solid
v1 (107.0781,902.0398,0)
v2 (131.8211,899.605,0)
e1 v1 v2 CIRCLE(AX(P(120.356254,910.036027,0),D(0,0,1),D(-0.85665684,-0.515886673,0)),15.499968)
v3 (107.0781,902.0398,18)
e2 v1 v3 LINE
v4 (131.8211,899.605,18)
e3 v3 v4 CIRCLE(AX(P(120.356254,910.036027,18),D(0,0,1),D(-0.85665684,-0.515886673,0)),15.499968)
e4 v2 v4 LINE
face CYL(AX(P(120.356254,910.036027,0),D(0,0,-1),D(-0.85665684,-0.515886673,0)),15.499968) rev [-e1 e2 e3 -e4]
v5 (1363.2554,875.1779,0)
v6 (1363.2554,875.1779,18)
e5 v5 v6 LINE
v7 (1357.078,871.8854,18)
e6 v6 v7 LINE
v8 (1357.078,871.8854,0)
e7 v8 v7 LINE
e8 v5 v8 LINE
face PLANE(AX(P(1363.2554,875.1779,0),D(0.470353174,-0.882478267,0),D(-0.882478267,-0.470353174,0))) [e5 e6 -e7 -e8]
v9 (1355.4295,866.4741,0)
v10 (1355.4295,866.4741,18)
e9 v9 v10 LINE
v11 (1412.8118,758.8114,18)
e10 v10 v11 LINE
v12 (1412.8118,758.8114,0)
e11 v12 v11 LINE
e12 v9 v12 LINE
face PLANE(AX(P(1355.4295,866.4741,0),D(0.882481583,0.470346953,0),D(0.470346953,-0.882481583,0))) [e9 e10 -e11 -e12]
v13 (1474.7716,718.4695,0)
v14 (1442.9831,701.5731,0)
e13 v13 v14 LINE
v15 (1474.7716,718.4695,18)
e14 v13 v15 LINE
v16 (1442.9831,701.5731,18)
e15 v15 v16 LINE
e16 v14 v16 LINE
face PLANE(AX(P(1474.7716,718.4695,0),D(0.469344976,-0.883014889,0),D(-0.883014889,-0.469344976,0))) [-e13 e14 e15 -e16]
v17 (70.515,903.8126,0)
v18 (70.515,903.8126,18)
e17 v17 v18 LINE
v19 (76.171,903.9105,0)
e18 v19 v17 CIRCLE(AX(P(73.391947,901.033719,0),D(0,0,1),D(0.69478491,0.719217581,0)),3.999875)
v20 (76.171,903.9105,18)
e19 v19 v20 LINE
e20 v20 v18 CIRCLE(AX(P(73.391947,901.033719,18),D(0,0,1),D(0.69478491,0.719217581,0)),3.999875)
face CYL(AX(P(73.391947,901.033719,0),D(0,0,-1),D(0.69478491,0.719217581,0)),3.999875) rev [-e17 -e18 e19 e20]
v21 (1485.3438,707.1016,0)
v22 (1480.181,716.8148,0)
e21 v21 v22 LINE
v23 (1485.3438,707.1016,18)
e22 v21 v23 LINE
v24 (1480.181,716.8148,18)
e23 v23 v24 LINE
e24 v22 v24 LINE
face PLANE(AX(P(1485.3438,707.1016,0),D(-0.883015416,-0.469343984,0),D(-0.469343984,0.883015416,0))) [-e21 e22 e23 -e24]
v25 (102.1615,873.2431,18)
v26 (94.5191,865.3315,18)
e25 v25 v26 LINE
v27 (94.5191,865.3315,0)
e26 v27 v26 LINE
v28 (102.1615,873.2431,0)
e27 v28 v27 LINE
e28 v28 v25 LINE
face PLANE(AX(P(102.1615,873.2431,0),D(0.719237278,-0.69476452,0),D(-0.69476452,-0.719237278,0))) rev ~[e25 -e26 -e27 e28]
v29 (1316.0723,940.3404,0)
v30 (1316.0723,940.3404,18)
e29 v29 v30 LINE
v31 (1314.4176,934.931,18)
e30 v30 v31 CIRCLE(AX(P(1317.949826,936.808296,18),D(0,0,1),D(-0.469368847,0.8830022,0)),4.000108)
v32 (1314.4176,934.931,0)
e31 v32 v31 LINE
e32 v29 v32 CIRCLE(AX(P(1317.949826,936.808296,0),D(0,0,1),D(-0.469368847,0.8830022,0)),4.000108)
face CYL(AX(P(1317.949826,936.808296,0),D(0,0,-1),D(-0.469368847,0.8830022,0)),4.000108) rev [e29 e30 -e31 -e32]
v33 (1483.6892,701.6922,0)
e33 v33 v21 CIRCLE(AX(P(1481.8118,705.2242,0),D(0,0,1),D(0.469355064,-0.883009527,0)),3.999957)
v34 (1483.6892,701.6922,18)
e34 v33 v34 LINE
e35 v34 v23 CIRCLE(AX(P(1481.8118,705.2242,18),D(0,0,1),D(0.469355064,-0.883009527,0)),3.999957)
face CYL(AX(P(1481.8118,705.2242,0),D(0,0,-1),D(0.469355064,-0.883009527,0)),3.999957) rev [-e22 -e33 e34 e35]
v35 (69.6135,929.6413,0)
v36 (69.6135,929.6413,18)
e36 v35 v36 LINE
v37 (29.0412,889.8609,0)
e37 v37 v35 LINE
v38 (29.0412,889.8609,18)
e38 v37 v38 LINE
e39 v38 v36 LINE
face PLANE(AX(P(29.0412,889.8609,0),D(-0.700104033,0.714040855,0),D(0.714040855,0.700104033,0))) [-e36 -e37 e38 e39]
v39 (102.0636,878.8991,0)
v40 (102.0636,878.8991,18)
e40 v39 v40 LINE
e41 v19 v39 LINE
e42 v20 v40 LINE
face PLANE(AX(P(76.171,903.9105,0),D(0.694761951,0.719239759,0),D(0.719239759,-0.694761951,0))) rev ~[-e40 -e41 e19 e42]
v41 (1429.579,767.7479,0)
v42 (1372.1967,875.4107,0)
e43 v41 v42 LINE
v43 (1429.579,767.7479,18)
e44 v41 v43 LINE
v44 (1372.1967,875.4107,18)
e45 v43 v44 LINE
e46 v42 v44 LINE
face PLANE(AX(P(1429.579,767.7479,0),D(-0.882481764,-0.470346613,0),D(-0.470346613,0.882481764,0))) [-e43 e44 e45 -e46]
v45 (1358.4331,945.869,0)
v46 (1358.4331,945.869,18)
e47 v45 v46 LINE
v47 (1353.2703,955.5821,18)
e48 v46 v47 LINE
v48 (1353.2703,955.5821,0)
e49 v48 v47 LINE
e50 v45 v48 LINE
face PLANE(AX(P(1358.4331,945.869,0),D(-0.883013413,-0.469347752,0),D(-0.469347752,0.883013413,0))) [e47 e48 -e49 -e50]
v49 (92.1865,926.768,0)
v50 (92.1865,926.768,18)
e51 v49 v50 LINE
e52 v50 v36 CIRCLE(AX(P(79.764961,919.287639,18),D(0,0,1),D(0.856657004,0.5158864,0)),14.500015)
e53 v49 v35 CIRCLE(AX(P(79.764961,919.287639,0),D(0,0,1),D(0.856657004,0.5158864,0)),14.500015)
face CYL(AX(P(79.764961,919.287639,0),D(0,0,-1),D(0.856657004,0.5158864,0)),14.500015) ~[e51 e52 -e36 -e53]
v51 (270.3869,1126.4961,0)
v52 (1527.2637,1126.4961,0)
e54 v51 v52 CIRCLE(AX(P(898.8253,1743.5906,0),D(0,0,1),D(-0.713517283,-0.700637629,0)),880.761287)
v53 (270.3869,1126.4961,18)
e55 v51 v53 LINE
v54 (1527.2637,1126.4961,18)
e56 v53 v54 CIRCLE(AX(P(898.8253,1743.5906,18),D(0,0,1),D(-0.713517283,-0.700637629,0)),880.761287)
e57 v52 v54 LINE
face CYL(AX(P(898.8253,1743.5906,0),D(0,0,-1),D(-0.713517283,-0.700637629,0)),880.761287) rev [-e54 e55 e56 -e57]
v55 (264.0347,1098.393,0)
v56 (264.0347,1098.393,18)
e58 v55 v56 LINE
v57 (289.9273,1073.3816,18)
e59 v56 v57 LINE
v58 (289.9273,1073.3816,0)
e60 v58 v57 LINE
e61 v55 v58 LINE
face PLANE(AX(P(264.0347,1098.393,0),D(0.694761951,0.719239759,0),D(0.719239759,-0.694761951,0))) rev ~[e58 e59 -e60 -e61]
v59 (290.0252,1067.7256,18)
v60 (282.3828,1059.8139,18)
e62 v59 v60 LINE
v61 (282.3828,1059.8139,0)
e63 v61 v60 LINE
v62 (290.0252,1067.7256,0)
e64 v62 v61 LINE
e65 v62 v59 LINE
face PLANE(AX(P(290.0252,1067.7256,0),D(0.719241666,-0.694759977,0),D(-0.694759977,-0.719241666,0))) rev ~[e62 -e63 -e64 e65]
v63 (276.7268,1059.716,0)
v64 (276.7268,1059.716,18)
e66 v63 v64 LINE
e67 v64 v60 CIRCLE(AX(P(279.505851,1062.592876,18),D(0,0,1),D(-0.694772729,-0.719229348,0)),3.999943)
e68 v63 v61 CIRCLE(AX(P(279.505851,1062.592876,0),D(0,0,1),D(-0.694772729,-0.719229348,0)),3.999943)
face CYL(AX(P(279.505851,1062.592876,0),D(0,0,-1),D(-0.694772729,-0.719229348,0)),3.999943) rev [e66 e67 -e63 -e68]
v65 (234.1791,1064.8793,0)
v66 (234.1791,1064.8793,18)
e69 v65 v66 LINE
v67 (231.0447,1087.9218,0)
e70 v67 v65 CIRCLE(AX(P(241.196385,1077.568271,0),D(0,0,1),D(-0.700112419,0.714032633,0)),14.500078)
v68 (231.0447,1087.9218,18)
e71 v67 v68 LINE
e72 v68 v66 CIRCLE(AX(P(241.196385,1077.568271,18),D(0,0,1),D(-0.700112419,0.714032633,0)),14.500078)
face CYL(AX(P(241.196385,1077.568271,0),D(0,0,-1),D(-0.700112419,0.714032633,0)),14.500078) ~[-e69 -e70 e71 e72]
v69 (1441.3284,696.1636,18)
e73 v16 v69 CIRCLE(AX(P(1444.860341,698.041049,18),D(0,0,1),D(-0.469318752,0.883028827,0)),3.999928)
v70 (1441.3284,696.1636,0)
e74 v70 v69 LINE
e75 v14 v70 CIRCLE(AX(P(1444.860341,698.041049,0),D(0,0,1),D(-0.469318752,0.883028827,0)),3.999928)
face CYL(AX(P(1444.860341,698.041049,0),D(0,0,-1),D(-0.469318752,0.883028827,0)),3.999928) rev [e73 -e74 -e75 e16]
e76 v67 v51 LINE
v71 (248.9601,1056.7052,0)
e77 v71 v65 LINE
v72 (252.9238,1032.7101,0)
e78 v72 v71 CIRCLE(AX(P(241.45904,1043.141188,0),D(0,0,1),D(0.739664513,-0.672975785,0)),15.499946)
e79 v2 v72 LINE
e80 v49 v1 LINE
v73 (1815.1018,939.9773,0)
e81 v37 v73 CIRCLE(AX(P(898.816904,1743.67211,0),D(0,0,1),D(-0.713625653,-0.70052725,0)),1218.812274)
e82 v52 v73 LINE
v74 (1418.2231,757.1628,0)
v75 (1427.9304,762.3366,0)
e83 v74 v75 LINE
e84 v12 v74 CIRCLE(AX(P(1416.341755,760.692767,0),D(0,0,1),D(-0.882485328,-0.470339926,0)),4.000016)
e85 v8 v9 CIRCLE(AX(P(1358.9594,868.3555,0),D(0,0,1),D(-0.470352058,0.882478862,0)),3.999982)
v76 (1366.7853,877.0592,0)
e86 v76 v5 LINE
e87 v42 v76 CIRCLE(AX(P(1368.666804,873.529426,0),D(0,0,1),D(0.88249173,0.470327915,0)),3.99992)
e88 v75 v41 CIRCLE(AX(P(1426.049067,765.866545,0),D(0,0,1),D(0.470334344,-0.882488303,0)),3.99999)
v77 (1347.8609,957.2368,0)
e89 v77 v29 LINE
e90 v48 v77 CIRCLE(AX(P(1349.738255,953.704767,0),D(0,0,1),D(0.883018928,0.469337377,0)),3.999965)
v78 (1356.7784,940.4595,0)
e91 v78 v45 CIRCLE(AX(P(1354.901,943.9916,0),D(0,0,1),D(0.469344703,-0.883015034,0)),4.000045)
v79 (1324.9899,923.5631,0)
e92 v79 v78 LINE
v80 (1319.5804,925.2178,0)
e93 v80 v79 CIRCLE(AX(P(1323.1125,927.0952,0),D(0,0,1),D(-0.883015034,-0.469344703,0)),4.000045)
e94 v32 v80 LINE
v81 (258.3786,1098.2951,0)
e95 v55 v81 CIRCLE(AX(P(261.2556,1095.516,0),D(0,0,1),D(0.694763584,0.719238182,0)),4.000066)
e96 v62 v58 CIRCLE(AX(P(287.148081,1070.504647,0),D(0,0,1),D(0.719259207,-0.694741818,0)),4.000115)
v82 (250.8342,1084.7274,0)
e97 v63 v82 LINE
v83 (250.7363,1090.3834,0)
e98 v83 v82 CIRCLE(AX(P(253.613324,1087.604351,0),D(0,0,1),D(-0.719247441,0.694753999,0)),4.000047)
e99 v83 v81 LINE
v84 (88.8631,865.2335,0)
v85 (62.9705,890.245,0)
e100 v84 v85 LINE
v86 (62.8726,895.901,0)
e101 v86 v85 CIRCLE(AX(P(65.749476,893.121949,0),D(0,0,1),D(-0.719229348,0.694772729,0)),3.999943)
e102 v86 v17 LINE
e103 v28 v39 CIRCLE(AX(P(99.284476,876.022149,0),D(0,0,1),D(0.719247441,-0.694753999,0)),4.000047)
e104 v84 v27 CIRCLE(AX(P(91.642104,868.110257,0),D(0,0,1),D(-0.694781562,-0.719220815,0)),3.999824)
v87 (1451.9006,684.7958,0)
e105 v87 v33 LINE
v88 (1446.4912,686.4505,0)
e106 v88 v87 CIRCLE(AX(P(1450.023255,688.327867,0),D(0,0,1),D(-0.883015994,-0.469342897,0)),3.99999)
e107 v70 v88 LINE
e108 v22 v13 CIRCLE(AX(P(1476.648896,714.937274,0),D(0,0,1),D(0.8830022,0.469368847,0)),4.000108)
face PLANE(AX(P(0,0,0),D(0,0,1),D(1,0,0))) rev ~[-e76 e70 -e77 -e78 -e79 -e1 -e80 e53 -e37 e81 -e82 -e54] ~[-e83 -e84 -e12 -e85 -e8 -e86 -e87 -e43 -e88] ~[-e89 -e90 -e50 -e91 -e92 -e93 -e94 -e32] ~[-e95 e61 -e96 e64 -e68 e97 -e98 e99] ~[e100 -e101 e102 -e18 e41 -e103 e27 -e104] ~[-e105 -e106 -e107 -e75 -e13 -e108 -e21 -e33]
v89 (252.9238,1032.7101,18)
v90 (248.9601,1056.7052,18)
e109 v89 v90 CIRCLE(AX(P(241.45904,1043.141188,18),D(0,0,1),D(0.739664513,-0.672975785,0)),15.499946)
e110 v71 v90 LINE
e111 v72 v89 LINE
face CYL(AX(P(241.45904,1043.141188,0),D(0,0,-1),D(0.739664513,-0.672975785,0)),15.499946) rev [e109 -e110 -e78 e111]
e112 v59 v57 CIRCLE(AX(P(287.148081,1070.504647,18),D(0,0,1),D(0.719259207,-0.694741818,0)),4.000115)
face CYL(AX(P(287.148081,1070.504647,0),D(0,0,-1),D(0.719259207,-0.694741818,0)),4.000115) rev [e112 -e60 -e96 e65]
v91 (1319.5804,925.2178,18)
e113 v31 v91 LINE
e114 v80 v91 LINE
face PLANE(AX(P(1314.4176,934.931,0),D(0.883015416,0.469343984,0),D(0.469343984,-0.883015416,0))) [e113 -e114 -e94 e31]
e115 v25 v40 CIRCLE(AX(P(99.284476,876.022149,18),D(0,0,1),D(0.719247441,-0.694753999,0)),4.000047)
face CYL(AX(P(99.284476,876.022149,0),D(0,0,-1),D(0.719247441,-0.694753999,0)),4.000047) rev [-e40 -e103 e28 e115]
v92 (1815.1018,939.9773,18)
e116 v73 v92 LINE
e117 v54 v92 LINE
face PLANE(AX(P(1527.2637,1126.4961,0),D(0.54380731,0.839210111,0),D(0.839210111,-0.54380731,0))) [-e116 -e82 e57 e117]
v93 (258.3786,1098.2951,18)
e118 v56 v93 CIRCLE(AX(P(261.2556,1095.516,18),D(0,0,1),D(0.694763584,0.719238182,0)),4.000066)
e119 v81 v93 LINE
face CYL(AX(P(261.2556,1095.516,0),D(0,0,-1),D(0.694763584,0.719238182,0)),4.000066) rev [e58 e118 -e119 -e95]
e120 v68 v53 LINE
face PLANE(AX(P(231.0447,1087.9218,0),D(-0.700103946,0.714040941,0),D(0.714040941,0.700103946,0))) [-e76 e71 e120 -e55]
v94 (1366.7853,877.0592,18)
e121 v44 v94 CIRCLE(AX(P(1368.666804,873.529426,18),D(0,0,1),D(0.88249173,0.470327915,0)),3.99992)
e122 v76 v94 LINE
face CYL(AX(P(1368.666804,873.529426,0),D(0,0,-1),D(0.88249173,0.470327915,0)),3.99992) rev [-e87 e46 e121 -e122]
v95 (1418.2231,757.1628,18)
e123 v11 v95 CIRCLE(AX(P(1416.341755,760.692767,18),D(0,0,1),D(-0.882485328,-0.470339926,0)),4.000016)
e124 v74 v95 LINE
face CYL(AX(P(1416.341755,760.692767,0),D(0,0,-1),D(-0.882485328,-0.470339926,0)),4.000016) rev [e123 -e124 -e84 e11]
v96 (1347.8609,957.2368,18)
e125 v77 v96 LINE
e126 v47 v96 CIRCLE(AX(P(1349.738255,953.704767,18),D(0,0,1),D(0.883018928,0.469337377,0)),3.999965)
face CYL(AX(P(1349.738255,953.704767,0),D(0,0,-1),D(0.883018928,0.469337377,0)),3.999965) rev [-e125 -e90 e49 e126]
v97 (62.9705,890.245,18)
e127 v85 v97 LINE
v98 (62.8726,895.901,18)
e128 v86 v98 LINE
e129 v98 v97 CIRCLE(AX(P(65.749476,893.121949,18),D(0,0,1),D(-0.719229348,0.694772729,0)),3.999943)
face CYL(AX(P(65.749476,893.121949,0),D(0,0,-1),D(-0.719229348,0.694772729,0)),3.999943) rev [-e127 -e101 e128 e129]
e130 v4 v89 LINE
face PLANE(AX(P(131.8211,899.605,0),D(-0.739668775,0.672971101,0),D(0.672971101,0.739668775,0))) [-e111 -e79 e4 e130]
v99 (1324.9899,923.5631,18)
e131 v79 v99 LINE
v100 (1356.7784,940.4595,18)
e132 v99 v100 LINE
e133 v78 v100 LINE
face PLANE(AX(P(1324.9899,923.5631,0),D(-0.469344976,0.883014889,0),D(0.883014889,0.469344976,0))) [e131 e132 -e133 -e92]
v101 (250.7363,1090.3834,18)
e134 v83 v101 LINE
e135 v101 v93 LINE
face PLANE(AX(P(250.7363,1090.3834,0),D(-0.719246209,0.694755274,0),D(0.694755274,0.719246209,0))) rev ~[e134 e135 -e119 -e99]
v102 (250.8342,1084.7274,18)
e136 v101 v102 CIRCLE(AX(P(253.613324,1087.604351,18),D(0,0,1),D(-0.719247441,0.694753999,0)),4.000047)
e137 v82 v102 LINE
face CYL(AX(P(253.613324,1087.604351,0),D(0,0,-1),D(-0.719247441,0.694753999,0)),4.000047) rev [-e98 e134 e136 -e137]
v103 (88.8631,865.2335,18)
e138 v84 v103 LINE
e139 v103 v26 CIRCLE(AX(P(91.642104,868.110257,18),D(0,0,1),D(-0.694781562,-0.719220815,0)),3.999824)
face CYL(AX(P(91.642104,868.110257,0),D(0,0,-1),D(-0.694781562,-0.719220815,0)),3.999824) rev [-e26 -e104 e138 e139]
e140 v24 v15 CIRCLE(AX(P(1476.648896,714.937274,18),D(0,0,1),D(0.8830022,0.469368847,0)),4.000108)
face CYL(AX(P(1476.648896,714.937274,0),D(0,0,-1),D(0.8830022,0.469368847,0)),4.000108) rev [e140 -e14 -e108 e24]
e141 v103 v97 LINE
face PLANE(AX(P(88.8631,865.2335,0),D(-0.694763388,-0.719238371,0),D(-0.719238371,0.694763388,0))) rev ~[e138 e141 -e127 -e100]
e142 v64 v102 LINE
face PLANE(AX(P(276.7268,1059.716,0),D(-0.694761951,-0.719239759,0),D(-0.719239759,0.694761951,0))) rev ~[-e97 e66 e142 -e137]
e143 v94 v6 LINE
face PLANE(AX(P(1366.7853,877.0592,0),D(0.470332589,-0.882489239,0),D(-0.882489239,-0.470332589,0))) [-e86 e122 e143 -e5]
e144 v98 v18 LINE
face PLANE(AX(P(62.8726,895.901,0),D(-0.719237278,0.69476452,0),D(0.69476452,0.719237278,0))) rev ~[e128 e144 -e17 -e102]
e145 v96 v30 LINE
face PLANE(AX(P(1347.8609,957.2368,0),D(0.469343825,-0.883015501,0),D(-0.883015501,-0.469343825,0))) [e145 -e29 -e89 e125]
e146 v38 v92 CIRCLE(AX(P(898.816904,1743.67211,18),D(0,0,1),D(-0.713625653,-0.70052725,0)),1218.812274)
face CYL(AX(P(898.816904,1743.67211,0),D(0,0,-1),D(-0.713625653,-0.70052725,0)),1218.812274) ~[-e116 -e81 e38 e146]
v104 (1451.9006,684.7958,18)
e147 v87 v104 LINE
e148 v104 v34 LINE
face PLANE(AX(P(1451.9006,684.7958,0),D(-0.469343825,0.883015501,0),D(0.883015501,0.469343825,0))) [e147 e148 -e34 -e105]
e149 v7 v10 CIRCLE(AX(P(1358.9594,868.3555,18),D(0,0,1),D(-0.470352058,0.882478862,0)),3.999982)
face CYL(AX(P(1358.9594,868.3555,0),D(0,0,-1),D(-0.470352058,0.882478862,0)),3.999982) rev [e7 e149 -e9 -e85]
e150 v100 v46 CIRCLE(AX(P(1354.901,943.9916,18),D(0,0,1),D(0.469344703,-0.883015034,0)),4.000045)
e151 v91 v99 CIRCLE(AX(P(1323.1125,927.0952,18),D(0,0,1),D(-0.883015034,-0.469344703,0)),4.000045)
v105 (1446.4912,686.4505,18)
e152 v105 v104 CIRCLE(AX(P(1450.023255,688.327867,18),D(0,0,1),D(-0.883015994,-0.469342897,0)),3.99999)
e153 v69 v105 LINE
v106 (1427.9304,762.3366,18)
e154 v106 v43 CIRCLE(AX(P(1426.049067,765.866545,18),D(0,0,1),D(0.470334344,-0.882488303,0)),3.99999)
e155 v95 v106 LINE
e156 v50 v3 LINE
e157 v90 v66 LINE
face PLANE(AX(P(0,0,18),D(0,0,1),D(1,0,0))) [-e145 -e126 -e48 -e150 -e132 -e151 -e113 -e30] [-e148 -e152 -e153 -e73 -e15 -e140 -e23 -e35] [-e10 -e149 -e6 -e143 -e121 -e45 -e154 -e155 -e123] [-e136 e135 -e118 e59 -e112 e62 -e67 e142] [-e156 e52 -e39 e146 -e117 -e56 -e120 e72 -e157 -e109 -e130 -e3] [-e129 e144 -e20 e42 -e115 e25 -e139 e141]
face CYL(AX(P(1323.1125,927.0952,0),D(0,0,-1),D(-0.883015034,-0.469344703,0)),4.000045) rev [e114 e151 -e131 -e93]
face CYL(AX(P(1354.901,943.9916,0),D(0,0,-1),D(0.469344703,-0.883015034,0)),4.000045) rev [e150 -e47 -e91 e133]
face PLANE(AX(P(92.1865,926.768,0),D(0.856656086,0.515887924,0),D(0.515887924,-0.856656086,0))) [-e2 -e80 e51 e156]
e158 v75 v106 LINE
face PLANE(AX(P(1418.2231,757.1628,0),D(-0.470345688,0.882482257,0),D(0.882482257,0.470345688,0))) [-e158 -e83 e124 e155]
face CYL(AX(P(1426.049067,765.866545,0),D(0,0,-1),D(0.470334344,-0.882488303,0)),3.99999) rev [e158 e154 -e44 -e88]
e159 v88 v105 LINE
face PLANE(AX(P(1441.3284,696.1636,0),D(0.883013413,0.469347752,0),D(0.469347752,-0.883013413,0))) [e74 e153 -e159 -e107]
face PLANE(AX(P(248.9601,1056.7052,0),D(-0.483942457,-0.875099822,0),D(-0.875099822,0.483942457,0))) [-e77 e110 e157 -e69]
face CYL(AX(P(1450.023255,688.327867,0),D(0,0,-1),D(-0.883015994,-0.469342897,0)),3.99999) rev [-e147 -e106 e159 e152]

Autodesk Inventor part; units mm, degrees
ref_plane "YZ Plane" through (0, 0, 0) normal (1, 0, 0) x (0, 1, 0)
ref_plane "XZ Plane" through (0, 0, 0) normal (0, 1, 0) x (-1, 0, 0)
ref_plane "XY Plane" through (0, 0, 0) normal (0, 0, 1) x (1, 0, 0)
sketch "CONTOURS" plane through (0, 0, 0) normal (0, 0, 1) x (1, 0, 0)
  line L0 (29.0412, 889.8609) -> (69.6135, 929.6413)
  arc A0 (92.1865, 926.768) -> (69.6135, 929.6413) centre (79.765, 919.2877) ccw
  line L1 (92.1865, 926.768) -> (107.0781, 902.0398)
  arc A1 (107.0781, 902.0398) -> (131.8211, 899.605) centre (120.3563, 910.0361) ccw
  line L2 (131.8211, 899.605) -> (252.9238, 1032.7101)
  arc A2 (252.9238, 1032.7101) -> (248.9601, 1056.7052) centre (241.459, 1043.1412) ccw
  line L3 (248.9601, 1056.7052) -> (234.1791, 1064.8793)
  arc A3 (231.0447, 1087.9218) -> (234.1791, 1064.8793) centre (241.1963, 1077.5683) ccw
  line L4 (231.0447, 1087.9218) -> (270.3869, 1126.4961)
  arc A4 (270.3869, 1126.4961) -> (1527.2637, 1126.4961) centre (898.8253, 1743.5906) ccw
  line L5 (1527.2637, 1126.4961) -> (1815.1018, 939.9773)
  arc A5 (29.0412, 889.8609) -> (1815.1018, 939.9773) centre (898.8169, 1743.6721) ccw
sketch "HOLES" plane through (0, 0, 0) normal (0, 0, 1) x (1, 0, 0)
  line L0 (290.0252, 1067.7256) -> (282.3828, 1059.8139)
  arc A0 (276.7268, 1059.716) -> (282.3828, 1059.8139) centre (279.5059, 1062.593) ccw
  line L1 (276.7268, 1059.716) -> (250.8342, 1084.7274)
  arc A1 (250.7363, 1090.3834) -> (250.8342, 1084.7274) centre (253.6132, 1087.6044) ccw
  line L2 (250.7363, 1090.3834) -> (258.3786, 1098.2951)
  arc A2 (264.0347, 1098.393) -> (258.3786, 1098.2951) centre (261.2556, 1095.516) ccw
  line L3 (264.0347, 1098.393) -> (289.9273, 1073.3816)
  arc A3 (290.0252, 1067.7256) -> (289.9273, 1073.3816) centre (287.1482, 1070.5046) ccw
  line L4 (102.1615, 873.2431) -> (94.5191, 865.3315)
  arc A4 (88.8631, 865.2335) -> (94.5191, 865.3315) centre (91.6422, 868.1105) ccw
  line L5 (88.8631, 865.2335) -> (62.9705, 890.245)
  arc A5 (62.8726, 895.901) -> (62.9705, 890.245) centre (65.7496, 893.1219) ccw
  line L6 (62.8726, 895.901) -> (70.515, 903.8126)
  arc A6 (76.171, 903.9105) -> (70.515, 903.8126) centre (73.3919, 901.0336) ccw
  arc A7 (102.1615, 873.2431) -> (102.0636, 878.8991) centre (99.2846, 876.0221) ccw
  line L7 (1358.4331, 945.869) -> (1353.2703, 955.5821)
  arc A8 (1353.2703, 955.5821) -> (1347.8609, 957.2368) centre (1349.7382, 953.7047) ccw
  line L8 (1347.8609, 957.2368) -> (1316.0723, 940.3404)
  arc A9 (1316.0723, 940.3404) -> (1314.4176, 934.931) centre (1317.9497, 936.8084) ccw
  line L9 (1314.4176, 934.931) -> (1319.5804, 925.2178)
  arc A10 (1319.5804, 925.2178) -> (1324.9899, 923.5631) centre (1323.1125, 927.0952) ccw
  line L10 (1324.9899, 923.5631) -> (1356.7784, 940.4595)
  arc A11 (1356.7784, 940.4595) -> (1358.4331, 945.869) centre (1354.901, 943.9916) ccw
  line L11 (1441.3284, 696.1636) -> (1446.4912, 686.4505)
  arc A12 (1446.4912, 686.4505) -> (1451.9006, 684.7958) centre (1450.0232, 688.3278) ccw
  line L12 (1451.9006, 684.7958) -> (1483.6892, 701.6922)
  arc A13 (1483.6892, 701.6922) -> (1485.3438, 707.1016) centre (1481.8118, 705.2242) ccw
  line L13 (1485.3438, 707.1016) -> (1480.181, 716.8148)
  arc A14 (1480.181, 716.8148) -> (1474.7716, 718.4695) centre (1476.649, 714.9374) ccw
  line L14 (1474.7716, 718.4695) -> (1442.9831, 701.5731)
  arc A15 (1442.9831, 701.5731) -> (1441.3284, 696.1636) centre (1444.8604, 698.041) ccw
  line L15 (1363.2554, 875.1779) -> (1357.078, 871.8854)
  arc A16 (1357.078, 871.8854) -> (1355.4295, 866.4741) centre (1358.9594, 868.3555) ccw
  line L16 (1355.4295, 866.4741) -> (1412.8118, 758.8114)
  arc A17 (1412.8118, 758.8114) -> (1418.2231, 757.1628) centre (1416.3417, 760.6927) ccw
  line L17 (1418.2231, 757.1628) -> (1427.9304, 762.3366)
  arc A18 (1427.9304, 762.3366) -> (1429.579, 767.7479) centre (1426.049, 765.8666) ccw
  line L18 (1429.579, 767.7479) -> (1372.1967, 875.4107)
  arc A19 (1372.1967, 875.4107) -> (1366.7853, 877.0592) centre (1368.6667, 873.5293) ccw
  line L19 (1366.7853, 877.0592) -> (1363.2554, 875.1779)
  line L20 (76.171, 903.9105) -> (102.0636, 878.8991)
sketch "LETTERS" plane through (0, 0, 0) normal (0, 0, 1) x (1, 0, 0)
  line L0 (246.1168, 901.1678) -> (246.0351, 901.3924)
  line L1 (246.0351, 901.3924) -> (245.9598, 901.6191)
  line L2 (245.9598, 901.6191) -> (245.8908, 901.8478)
  line L3 (245.8908, 901.8478) -> (245.8282, 902.0782)
  line L4 (245.8282, 902.0782) -> (245.7719, 902.3102)
  line L5 (245.7719, 902.3102) -> (245.722, 902.5436)
  line L6 (245.722, 902.5436) -> (245.6784, 902.7782)
  line L7 (245.6784, 902.7782) -> (245.6412, 903.0139)
  line L8 (245.6412, 903.0139) -> (245.6104, 903.2504)
  line L9 (245.6104, 903.2504) -> (245.586, 903.4876)
  line L10 (245.586, 903.4876) -> (245.5679, 903.7253)
  line L11 (245.5679, 903.7253) -> (245.5562, 903.9634)
  line L12 (245.5562, 903.9634) -> (245.551, 904.2015)
  line L13 (245.551, 904.2015) -> (245.5521, 904.4397)
  line L14 (245.5521, 904.4397) -> (245.5596, 904.6777)
  line L15 (245.5596, 904.6777) -> (245.5736, 904.9152)
  line L16 (245.5736, 904.9152) -> (245.594, 905.1522)
  line L17 (245.594, 905.1522) -> (245.6208, 905.3885)
  line L18 (245.6208, 905.3885) -> (245.654, 905.6238)
  line L19 (245.654, 905.6238) -> (245.6937, 905.8581)
  line L20 (245.6937, 905.8581) -> (245.7398, 906.0911)
  line L21 (245.7398, 906.0911) -> (245.7923, 906.3226)
  line L22 (245.7923, 906.3226) -> (245.8513, 906.5525)
  line L23 (245.8513, 906.5525) -> (245.9168, 906.7806)
  line L24 (245.9168, 906.7806) -> (245.9887, 907.0067)
  line L25 (245.9887, 907.0067) -> (246.0671, 907.2306)
  line L26 (246.0671, 907.2306) -> (246.1519, 907.4522)
  line L27 (246.1519, 907.4522) -> (246.2433, 907.6712)
  line L28 (246.2433, 907.6712) -> (246.3411, 907.8876)
  line L29 (246.3411, 907.8876) -> (246.4454, 908.1011)
  line L30 (246.4454, 908.1011) -> (246.5562, 908.3115)
  line L31 (246.5562, 908.3115) -> (246.6735, 908.5187)
  line L32 (246.6735, 908.5187) -> (246.7973, 908.7225)
  line L33 (246.7973, 908.7225) -> (246.9274, 908.9228)
  line L34 (246.9274, 908.9228) -> (247.0637, 909.1194)
  line L35 (247.0637, 909.1194) -> (247.2058, 909.3123)
  line L36 (247.2058, 909.3123) -> (247.3538, 909.5013)
  line L37 (247.3538, 909.5013) -> (247.5073, 909.6863)
  line L38 (247.5073, 909.6863) -> (247.6661, 909.8672)
  line L39 (247.6661, 909.8672) -> (247.8302, 910.0439)
  line L40 (247.8302, 910.0439) -> (247.9992, 910.2163)
  line L41 (247.9992, 910.2163) -> (248.1731, 910.3842)
  line L42 (248.1731, 910.3842) -> (248.3515, 910.5476)
  line L43 (248.3515, 910.5476) -> (248.5344, 910.7063)
  line L44 (248.5344, 910.7063) -> (248.7216, 910.8603)
  line L45 (248.7216, 910.8603) -> (248.9128, 911.0093)
  line L46 (248.9128, 911.0093) -> (249.1078, 911.1534)
  line L47 (249.1078, 911.1534) -> (249.3066, 911.2923)
  line L48 (249.3066, 911.2923) -> (249.5088, 911.426)
  line L49 (249.5088, 911.426) -> (249.7143, 911.5543)
  line L50 (249.7143, 911.5543) -> (249.9229, 911.6772)
  line L51 (249.9229, 911.6772) -> (250.1344, 911.7944)
  line L52 (250.1344, 911.7944) -> (250.3487, 911.906)
  line L53 (250.3487, 911.906) -> (250.5655, 912.0118)
  line L54 (250.5655, 912.0118) -> (250.7846, 912.1117)
  line L55 (250.7846, 912.1117) -> (251.0059, 912.2055)
  line L56 (251.0059, 912.2055) -> (251.2292, 912.2932)
  line L57 (251.2292, 912.2932) -> (251.4543, 912.3746)
  line L58 (251.4543, 912.3746) -> (251.6809, 912.4497)
  line L59 (251.6809, 912.4497) -> (251.909, 912.5182)
  line L60 (251.909, 912.5182) -> (252.1383, 912.5802)
  line L61 (252.1383, 912.5802) -> (252.3686, 912.6354)
  line L62 (252.3686, 912.6354) -> (252.5997, 912.6838)
  line L63 (252.5997, 912.6838) -> (252.8315, 912.7253)
  line L64 (252.8315, 912.7253) -> (253.0638, 912.7597)
  line L65 (253.0638, 912.7597) -> (253.2964, 912.7872)
  line L66 (253.2964, 912.7872) -> (253.5293, 912.8077)
  line L67 (253.5293, 912.8077) -> (253.7624, 912.8215)
  line L68 (253.7624, 912.8215) -> (253.9954, 912.8287)
  line L69 (253.9954, 912.8287) -> (254.2285, 912.8292)
  line L70 (254.2285, 912.8292) -> (254.4614, 912.8232)
  line L71 (254.4614, 912.8232) -> (254.694, 912.8108)
  line L72 (254.694, 912.8108) -> (254.9262, 912.7921)
  line L73 (254.9262, 912.7921) -> (255.158, 912.7672)
  line L74 (255.158, 912.7672) -> (255.3893, 912.7361)
  line L75 (255.3893, 912.7361) -> (255.6198, 912.699)
  line L76 (255.6198, 912.699) -> (255.8496, 912.656)
  line L77 (255.8496, 912.656) -> (256.0785, 912.6071)
  line L78 (256.0785, 912.6071) -> (256.3065, 912.5524)
  line L79 (256.3065, 912.5524) -> (256.5333, 912.4921)
  line L80 (256.5333, 912.4921) -> (256.759, 912.4263)
  line L81 (256.759, 912.4263) -> (256.9834, 912.3549)
  line L82 (256.9834, 912.3549) -> (257.2064, 912.2781)
  line L83 (257.2064, 912.2781) -> (257.4279, 912.1961)
  line L84 (257.4279, 912.1961) -> (257.6478, 912.1088)
  line L85 (257.6478, 912.1088) -> (257.8661, 912.0165)
  line L86 (257.8661, 912.0165) -> (258.0825, 911.9191)
  line L87 (258.0825, 911.9191) -> (258.297, 911.8168)
  line L88 (258.297, 911.8168) -> (258.5095, 911.7097)
  line L89 (258.5095, 911.7097) -> (258.7199, 911.5978)
  line L90 (258.7199, 911.5978) -> (258.9281, 911.4814)
  line L91 (258.9281, 911.4814) -> (259.134, 911.3603)
  line L92 (259.134, 911.3603) -> (259.3375, 911.2348)
  line L93 (259.3375, 911.2348) -> (259.5384, 911.105)
  line L94 (259.5384, 911.105) -> (259.7367, 910.9709)
  line L95 (259.7367, 910.9709) -> (259.9323, 910.8326)
  line L96 (259.9323, 910.8326) -> (260.1251, 910.6902)
  line L97 (260.1251, 910.6902) -> (260.315, 910.5438)
  line L98 (260.315, 910.5438) -> (260.5019, 910.3936)
  line L99 (260.5019, 910.3936) -> (260.6858, 910.2394)
  line L100 (260.6858, 910.2394) -> (260.8666, 910.0816)
  line L101 (260.8666, 910.0816) -> (261.0443, 909.92)
  line L102 (261.0443, 909.92) -> (261.2187, 909.7549)
  line L103 (261.2187, 909.7549) -> (261.3897, 909.5863)
  line L104 (261.3897, 909.5863) -> (261.5574, 909.4142)
  line L105 (261.5574, 909.4142) -> (261.7217, 909.2389)
  line L106 (261.7217, 909.2389) -> (261.8825, 909.0602)
  line L107 (261.8825, 909.0602) -> (262.0396, 908.8784)
  line L108 (262.0396, 908.8784) -> (262.1932, 908.6935)
  line L109 (262.1932, 908.6935) -> (262.343, 908.5056)
  line L110 (262.343, 908.5056) -> (262.489, 908.3148)
  line L111 (262.489, 908.3148) -> (262.6311, 908.1211)
  line L112 (262.6311, 908.1211) -> (262.7694, 907.9247)
  line L113 (262.7694, 907.9247) -> (262.9036, 907.7256)
  line L114 (262.9036, 907.7256) -> (263.0338, 907.5239)
  line L115 (263.0338, 907.5239) -> (263.1599, 907.3197)
  line L116 (263.1599, 907.3197) -> (263.2817, 907.1131)
  line L117 (263.2817, 907.1131) -> (263.3993, 906.9041)
  line L118 (263.3993, 906.9041) -> (263.5126, 906.6929)
  line L119 (263.5126, 906.6929) -> (263.6214, 906.4795)
  line L120 (263.6214, 906.4795) -> (263.7258, 906.264)
  line L121 (263.7258, 906.264) -> (263.8257, 906.0465)
  line L122 (263.8257, 906.0465) -> (263.9209, 905.827)
  line L123 (263.9209, 905.827) -> (264.0114, 905.6057)
  line L124 (264.0114, 905.6057) -> (264.0973, 905.3826)
  line L125 (264.0973, 905.3826) -> (264.1782, 905.1579)
  line L126 (264.1782, 905.1579) -> (264.2544, 904.9316)
  line L127 (264.2544, 904.9316) -> (264.3255, 904.7037)
  line L128 (264.3255, 904.7037) -> (264.3917, 904.4744)
  line L129 (264.3917, 904.4744) -> (264.4527, 904.2438)
  line L130 (264.4527, 904.2438) -> (264.5087, 904.012)
  line L131 (264.5087, 904.012) -> (264.5596, 903.7792)
  line L132 (264.5596, 903.7792) -> (264.6053, 903.5455)
  line L133 (264.6053, 903.5455) -> (264.6458, 903.3109)
  line L134 (264.6458, 903.3109) -> (264.6811, 903.0757)
  line L135 (264.6811, 903.0757) -> (264.7111, 902.84)
  line L136 (264.7111, 902.84) -> (264.7358, 902.6039)
  line L137 (264.7358, 902.6039) -> (264.7552, 902.3675)
  line L138 (264.7552, 902.3675) -> (264.7692, 902.1309)
  line L139 (264.7692, 902.1309) -> (264.7779, 901.8943)
  line L140 (264.7779, 901.8943) -> (264.781, 901.6578)
  line L141 (264.781, 901.6578) -> (264.7787, 901.4216)
  line L142 (264.7787, 901.4216) -> (264.7709, 901.1857)
  line L143 (264.7709, 901.1857) -> (264.7576, 900.9503)
  line L144 (264.7576, 900.9503) -> (264.7387, 900.7155)
  line L145 (264.7387, 900.7155) -> (264.7141, 900.4815)
  line L146 (264.7141, 900.4815) -> (264.684, 900.2483)
  line L147 (264.684, 900.2483) -> (264.6481, 900.0162)
  line L148 (264.6481, 900.0162) -> (264.6065, 899.7851)
  line L149 (264.6065, 899.7851) -> (264.5592, 899.5554)
  line L150 (264.5592, 899.5554) -> (264.5061, 899.327)
  line L151 (264.5061, 899.327) -> (264.4472, 899.1002)
  line L152 (264.4472, 899.1002) -> (264.3824, 898.875)
  line L153 (264.3824, 898.875) -> (264.3117, 898.6515)
  line L154 (264.3117, 898.6515) -> (264.2351, 898.43)
  line L155 (264.2351, 898.43) -> (264.1526, 898.2105)
  line L156 (264.1526, 898.2105) -> (264.064, 897.9932)
  line L157 (264.064, 897.9932) -> (263.9694, 897.7781)
  line L158 (263.9694, 897.7781) -> (263.8688, 897.5655)
  line L159 (263.8688, 897.5655) -> (263.762, 897.3554)
  line L160 (263.6492, 897.148) -> (263.5303, 896.9434)
  line L161 (263.5303, 896.9434) -> (263.4056, 896.7417)
  line L162 (263.4056, 896.7417) -> (263.2753, 896.5431)
  line L163 (263.2753, 896.5431) -> (263.1393, 896.3477)
  line L164 (263.1393, 896.3477) -> (262.9979, 896.1557)
  line L165 (262.9979, 896.1557) -> (262.8513, 895.9671)
  line L166 (262.8513, 895.9671) -> (262.6996, 895.7821)
  line L167 (262.6996, 895.7821) -> (262.5428, 895.6009)
  line L168 (262.5428, 895.6009) -> (262.3813, 895.4235)
  line L169 (262.3813, 895.4235) -> (262.215, 895.2501)
  line L170 (262.215, 895.2501) -> (262.0442, 895.0809)
  line L171 (262.0442, 895.0809) -> (261.869, 894.9159)
  line L172 (261.869, 894.9159) -> (261.6896, 894.7553)
  line L173 (261.6896, 894.7553) -> (261.506, 894.5993)
  line L174 (261.506, 894.5993) -> (261.3185, 894.4479)
  line L175 (261.3185, 894.4479) -> (261.1271, 894.3014)
  line L176 (261.1271, 894.3014) -> (260.9321, 894.1597)
  line L177 (260.9321, 894.1597) -> (260.7336, 894.0231)
  line L178 (260.7336, 894.0231) -> (260.5316, 893.8917)
  line L179 (260.5316, 893.8917) -> (260.3264, 893.7657)
  line L180 (260.3264, 893.7657) -> (260.1181, 893.6451)
  line L181 (260.1181, 893.6451) -> (259.9069, 893.5301)
  line L182 (259.9069, 893.5301) -> (259.6928, 893.4208)
  line L183 (259.6928, 893.4208) -> (259.4761, 893.3174)
  line L184 (259.4761, 893.3174) -> (259.2568, 893.22)
  line L185 (259.2568, 893.22) -> (259.0352, 893.1287)
  line L186 (259.0352, 893.1287) -> (258.8114, 893.0437)
  line L187 (258.8114, 893.0437) -> (258.5854, 892.965)
  line L188 (258.5854, 892.965) -> (258.3575, 892.8929)
  line L189 (258.3575, 892.8929) -> (258.1278, 892.8275)
  line L190 (258.1278, 892.8275) -> (257.8965, 892.7688)
  line L191 (257.8965, 892.7688) -> (257.6637, 892.717)
  line L192 (257.6637, 892.717) -> (257.4295, 892.6722)
  line L193 (257.4295, 892.6722) -> (257.1943, 892.6343)
  line L194 (257.1943, 892.6343) -> (256.9581, 892.6033)
  line L195 (256.9581, 892.6033) -> (256.7213, 892.5793)
  line L196 (256.7213, 892.5793) -> (256.484, 892.5622)
  line L197 (256.484, 892.5622) -> (256.2464, 892.552)
  line L198 (256.2464, 892.552) -> (256.0087, 892.5488)
  line L199 (256.0087, 892.5488) -> (255.7711, 892.5526)
  line L200 (255.7711, 892.5526) -> (255.5339, 892.5633)
  line L201 (255.5339, 892.5633) -> (255.2972, 892.5809)
  line L202 (255.2972, 892.5809) -> (255.0612, 892.6055)
  line L203 (255.0612, 892.6055) -> (254.8262, 892.6371)
  line L204 (254.8262, 892.6371) -> (254.5924, 892.6756)
  line L205 (254.5924, 892.6756) -> (254.3599, 892.721)
  line L206 (254.3599, 892.721) -> (254.1289, 892.7734)
  line L207 (254.1289, 892.7734) -> (253.8997, 892.8328)
  line L208 (253.8997, 892.8328) -> (253.6725, 892.8992)
  line L209 (253.6725, 892.8992) -> (253.4474, 892.9725)
  line L210 (253.4474, 892.9725) -> (253.2248, 893.0528)
  line L211 (253.2248, 893.0528) -> (253.0047, 893.14)
  line L212 (253.0047, 893.14) -> (252.7873, 893.2342)
  line L213 (252.7873, 893.2342) -> (252.573, 893.3354)
  line L214 (252.573, 893.3354) -> (252.3619, 893.4436)
  line L215 (252.3619, 893.4436) -> (252.1541, 893.5587)
  line L216 (252.1541, 893.5587) -> (251.95, 893.6809)
  line L217 (251.95, 893.6809) -> (251.7497, 893.81)
  line L218 (251.7497, 893.81) -> (251.5533, 893.9461)
  line L219 (251.5533, 893.9461) -> (251.3612, 894.0891)
  line L220 (251.3612, 894.0891) -> (251.1734, 894.2391)
  line L221 (251.1734, 894.2391) -> (250.9903, 894.3962)
  line L222 (250.9903, 894.3962) -> (250.9005, 894.4773)
  line L223 (250.9005, 894.4773) -> (250.812, 894.5602)
  line L224 (263.762, 897.3554) -> (263.6492, 897.148)
extrude "Extrusion3" add sketch "CONTOURS" along normal blind 18
extrude "Extrusion4" cut sketch "HOLES" along normal blind 18
properties part number "Platform C4" material "Wood (Birch)"
